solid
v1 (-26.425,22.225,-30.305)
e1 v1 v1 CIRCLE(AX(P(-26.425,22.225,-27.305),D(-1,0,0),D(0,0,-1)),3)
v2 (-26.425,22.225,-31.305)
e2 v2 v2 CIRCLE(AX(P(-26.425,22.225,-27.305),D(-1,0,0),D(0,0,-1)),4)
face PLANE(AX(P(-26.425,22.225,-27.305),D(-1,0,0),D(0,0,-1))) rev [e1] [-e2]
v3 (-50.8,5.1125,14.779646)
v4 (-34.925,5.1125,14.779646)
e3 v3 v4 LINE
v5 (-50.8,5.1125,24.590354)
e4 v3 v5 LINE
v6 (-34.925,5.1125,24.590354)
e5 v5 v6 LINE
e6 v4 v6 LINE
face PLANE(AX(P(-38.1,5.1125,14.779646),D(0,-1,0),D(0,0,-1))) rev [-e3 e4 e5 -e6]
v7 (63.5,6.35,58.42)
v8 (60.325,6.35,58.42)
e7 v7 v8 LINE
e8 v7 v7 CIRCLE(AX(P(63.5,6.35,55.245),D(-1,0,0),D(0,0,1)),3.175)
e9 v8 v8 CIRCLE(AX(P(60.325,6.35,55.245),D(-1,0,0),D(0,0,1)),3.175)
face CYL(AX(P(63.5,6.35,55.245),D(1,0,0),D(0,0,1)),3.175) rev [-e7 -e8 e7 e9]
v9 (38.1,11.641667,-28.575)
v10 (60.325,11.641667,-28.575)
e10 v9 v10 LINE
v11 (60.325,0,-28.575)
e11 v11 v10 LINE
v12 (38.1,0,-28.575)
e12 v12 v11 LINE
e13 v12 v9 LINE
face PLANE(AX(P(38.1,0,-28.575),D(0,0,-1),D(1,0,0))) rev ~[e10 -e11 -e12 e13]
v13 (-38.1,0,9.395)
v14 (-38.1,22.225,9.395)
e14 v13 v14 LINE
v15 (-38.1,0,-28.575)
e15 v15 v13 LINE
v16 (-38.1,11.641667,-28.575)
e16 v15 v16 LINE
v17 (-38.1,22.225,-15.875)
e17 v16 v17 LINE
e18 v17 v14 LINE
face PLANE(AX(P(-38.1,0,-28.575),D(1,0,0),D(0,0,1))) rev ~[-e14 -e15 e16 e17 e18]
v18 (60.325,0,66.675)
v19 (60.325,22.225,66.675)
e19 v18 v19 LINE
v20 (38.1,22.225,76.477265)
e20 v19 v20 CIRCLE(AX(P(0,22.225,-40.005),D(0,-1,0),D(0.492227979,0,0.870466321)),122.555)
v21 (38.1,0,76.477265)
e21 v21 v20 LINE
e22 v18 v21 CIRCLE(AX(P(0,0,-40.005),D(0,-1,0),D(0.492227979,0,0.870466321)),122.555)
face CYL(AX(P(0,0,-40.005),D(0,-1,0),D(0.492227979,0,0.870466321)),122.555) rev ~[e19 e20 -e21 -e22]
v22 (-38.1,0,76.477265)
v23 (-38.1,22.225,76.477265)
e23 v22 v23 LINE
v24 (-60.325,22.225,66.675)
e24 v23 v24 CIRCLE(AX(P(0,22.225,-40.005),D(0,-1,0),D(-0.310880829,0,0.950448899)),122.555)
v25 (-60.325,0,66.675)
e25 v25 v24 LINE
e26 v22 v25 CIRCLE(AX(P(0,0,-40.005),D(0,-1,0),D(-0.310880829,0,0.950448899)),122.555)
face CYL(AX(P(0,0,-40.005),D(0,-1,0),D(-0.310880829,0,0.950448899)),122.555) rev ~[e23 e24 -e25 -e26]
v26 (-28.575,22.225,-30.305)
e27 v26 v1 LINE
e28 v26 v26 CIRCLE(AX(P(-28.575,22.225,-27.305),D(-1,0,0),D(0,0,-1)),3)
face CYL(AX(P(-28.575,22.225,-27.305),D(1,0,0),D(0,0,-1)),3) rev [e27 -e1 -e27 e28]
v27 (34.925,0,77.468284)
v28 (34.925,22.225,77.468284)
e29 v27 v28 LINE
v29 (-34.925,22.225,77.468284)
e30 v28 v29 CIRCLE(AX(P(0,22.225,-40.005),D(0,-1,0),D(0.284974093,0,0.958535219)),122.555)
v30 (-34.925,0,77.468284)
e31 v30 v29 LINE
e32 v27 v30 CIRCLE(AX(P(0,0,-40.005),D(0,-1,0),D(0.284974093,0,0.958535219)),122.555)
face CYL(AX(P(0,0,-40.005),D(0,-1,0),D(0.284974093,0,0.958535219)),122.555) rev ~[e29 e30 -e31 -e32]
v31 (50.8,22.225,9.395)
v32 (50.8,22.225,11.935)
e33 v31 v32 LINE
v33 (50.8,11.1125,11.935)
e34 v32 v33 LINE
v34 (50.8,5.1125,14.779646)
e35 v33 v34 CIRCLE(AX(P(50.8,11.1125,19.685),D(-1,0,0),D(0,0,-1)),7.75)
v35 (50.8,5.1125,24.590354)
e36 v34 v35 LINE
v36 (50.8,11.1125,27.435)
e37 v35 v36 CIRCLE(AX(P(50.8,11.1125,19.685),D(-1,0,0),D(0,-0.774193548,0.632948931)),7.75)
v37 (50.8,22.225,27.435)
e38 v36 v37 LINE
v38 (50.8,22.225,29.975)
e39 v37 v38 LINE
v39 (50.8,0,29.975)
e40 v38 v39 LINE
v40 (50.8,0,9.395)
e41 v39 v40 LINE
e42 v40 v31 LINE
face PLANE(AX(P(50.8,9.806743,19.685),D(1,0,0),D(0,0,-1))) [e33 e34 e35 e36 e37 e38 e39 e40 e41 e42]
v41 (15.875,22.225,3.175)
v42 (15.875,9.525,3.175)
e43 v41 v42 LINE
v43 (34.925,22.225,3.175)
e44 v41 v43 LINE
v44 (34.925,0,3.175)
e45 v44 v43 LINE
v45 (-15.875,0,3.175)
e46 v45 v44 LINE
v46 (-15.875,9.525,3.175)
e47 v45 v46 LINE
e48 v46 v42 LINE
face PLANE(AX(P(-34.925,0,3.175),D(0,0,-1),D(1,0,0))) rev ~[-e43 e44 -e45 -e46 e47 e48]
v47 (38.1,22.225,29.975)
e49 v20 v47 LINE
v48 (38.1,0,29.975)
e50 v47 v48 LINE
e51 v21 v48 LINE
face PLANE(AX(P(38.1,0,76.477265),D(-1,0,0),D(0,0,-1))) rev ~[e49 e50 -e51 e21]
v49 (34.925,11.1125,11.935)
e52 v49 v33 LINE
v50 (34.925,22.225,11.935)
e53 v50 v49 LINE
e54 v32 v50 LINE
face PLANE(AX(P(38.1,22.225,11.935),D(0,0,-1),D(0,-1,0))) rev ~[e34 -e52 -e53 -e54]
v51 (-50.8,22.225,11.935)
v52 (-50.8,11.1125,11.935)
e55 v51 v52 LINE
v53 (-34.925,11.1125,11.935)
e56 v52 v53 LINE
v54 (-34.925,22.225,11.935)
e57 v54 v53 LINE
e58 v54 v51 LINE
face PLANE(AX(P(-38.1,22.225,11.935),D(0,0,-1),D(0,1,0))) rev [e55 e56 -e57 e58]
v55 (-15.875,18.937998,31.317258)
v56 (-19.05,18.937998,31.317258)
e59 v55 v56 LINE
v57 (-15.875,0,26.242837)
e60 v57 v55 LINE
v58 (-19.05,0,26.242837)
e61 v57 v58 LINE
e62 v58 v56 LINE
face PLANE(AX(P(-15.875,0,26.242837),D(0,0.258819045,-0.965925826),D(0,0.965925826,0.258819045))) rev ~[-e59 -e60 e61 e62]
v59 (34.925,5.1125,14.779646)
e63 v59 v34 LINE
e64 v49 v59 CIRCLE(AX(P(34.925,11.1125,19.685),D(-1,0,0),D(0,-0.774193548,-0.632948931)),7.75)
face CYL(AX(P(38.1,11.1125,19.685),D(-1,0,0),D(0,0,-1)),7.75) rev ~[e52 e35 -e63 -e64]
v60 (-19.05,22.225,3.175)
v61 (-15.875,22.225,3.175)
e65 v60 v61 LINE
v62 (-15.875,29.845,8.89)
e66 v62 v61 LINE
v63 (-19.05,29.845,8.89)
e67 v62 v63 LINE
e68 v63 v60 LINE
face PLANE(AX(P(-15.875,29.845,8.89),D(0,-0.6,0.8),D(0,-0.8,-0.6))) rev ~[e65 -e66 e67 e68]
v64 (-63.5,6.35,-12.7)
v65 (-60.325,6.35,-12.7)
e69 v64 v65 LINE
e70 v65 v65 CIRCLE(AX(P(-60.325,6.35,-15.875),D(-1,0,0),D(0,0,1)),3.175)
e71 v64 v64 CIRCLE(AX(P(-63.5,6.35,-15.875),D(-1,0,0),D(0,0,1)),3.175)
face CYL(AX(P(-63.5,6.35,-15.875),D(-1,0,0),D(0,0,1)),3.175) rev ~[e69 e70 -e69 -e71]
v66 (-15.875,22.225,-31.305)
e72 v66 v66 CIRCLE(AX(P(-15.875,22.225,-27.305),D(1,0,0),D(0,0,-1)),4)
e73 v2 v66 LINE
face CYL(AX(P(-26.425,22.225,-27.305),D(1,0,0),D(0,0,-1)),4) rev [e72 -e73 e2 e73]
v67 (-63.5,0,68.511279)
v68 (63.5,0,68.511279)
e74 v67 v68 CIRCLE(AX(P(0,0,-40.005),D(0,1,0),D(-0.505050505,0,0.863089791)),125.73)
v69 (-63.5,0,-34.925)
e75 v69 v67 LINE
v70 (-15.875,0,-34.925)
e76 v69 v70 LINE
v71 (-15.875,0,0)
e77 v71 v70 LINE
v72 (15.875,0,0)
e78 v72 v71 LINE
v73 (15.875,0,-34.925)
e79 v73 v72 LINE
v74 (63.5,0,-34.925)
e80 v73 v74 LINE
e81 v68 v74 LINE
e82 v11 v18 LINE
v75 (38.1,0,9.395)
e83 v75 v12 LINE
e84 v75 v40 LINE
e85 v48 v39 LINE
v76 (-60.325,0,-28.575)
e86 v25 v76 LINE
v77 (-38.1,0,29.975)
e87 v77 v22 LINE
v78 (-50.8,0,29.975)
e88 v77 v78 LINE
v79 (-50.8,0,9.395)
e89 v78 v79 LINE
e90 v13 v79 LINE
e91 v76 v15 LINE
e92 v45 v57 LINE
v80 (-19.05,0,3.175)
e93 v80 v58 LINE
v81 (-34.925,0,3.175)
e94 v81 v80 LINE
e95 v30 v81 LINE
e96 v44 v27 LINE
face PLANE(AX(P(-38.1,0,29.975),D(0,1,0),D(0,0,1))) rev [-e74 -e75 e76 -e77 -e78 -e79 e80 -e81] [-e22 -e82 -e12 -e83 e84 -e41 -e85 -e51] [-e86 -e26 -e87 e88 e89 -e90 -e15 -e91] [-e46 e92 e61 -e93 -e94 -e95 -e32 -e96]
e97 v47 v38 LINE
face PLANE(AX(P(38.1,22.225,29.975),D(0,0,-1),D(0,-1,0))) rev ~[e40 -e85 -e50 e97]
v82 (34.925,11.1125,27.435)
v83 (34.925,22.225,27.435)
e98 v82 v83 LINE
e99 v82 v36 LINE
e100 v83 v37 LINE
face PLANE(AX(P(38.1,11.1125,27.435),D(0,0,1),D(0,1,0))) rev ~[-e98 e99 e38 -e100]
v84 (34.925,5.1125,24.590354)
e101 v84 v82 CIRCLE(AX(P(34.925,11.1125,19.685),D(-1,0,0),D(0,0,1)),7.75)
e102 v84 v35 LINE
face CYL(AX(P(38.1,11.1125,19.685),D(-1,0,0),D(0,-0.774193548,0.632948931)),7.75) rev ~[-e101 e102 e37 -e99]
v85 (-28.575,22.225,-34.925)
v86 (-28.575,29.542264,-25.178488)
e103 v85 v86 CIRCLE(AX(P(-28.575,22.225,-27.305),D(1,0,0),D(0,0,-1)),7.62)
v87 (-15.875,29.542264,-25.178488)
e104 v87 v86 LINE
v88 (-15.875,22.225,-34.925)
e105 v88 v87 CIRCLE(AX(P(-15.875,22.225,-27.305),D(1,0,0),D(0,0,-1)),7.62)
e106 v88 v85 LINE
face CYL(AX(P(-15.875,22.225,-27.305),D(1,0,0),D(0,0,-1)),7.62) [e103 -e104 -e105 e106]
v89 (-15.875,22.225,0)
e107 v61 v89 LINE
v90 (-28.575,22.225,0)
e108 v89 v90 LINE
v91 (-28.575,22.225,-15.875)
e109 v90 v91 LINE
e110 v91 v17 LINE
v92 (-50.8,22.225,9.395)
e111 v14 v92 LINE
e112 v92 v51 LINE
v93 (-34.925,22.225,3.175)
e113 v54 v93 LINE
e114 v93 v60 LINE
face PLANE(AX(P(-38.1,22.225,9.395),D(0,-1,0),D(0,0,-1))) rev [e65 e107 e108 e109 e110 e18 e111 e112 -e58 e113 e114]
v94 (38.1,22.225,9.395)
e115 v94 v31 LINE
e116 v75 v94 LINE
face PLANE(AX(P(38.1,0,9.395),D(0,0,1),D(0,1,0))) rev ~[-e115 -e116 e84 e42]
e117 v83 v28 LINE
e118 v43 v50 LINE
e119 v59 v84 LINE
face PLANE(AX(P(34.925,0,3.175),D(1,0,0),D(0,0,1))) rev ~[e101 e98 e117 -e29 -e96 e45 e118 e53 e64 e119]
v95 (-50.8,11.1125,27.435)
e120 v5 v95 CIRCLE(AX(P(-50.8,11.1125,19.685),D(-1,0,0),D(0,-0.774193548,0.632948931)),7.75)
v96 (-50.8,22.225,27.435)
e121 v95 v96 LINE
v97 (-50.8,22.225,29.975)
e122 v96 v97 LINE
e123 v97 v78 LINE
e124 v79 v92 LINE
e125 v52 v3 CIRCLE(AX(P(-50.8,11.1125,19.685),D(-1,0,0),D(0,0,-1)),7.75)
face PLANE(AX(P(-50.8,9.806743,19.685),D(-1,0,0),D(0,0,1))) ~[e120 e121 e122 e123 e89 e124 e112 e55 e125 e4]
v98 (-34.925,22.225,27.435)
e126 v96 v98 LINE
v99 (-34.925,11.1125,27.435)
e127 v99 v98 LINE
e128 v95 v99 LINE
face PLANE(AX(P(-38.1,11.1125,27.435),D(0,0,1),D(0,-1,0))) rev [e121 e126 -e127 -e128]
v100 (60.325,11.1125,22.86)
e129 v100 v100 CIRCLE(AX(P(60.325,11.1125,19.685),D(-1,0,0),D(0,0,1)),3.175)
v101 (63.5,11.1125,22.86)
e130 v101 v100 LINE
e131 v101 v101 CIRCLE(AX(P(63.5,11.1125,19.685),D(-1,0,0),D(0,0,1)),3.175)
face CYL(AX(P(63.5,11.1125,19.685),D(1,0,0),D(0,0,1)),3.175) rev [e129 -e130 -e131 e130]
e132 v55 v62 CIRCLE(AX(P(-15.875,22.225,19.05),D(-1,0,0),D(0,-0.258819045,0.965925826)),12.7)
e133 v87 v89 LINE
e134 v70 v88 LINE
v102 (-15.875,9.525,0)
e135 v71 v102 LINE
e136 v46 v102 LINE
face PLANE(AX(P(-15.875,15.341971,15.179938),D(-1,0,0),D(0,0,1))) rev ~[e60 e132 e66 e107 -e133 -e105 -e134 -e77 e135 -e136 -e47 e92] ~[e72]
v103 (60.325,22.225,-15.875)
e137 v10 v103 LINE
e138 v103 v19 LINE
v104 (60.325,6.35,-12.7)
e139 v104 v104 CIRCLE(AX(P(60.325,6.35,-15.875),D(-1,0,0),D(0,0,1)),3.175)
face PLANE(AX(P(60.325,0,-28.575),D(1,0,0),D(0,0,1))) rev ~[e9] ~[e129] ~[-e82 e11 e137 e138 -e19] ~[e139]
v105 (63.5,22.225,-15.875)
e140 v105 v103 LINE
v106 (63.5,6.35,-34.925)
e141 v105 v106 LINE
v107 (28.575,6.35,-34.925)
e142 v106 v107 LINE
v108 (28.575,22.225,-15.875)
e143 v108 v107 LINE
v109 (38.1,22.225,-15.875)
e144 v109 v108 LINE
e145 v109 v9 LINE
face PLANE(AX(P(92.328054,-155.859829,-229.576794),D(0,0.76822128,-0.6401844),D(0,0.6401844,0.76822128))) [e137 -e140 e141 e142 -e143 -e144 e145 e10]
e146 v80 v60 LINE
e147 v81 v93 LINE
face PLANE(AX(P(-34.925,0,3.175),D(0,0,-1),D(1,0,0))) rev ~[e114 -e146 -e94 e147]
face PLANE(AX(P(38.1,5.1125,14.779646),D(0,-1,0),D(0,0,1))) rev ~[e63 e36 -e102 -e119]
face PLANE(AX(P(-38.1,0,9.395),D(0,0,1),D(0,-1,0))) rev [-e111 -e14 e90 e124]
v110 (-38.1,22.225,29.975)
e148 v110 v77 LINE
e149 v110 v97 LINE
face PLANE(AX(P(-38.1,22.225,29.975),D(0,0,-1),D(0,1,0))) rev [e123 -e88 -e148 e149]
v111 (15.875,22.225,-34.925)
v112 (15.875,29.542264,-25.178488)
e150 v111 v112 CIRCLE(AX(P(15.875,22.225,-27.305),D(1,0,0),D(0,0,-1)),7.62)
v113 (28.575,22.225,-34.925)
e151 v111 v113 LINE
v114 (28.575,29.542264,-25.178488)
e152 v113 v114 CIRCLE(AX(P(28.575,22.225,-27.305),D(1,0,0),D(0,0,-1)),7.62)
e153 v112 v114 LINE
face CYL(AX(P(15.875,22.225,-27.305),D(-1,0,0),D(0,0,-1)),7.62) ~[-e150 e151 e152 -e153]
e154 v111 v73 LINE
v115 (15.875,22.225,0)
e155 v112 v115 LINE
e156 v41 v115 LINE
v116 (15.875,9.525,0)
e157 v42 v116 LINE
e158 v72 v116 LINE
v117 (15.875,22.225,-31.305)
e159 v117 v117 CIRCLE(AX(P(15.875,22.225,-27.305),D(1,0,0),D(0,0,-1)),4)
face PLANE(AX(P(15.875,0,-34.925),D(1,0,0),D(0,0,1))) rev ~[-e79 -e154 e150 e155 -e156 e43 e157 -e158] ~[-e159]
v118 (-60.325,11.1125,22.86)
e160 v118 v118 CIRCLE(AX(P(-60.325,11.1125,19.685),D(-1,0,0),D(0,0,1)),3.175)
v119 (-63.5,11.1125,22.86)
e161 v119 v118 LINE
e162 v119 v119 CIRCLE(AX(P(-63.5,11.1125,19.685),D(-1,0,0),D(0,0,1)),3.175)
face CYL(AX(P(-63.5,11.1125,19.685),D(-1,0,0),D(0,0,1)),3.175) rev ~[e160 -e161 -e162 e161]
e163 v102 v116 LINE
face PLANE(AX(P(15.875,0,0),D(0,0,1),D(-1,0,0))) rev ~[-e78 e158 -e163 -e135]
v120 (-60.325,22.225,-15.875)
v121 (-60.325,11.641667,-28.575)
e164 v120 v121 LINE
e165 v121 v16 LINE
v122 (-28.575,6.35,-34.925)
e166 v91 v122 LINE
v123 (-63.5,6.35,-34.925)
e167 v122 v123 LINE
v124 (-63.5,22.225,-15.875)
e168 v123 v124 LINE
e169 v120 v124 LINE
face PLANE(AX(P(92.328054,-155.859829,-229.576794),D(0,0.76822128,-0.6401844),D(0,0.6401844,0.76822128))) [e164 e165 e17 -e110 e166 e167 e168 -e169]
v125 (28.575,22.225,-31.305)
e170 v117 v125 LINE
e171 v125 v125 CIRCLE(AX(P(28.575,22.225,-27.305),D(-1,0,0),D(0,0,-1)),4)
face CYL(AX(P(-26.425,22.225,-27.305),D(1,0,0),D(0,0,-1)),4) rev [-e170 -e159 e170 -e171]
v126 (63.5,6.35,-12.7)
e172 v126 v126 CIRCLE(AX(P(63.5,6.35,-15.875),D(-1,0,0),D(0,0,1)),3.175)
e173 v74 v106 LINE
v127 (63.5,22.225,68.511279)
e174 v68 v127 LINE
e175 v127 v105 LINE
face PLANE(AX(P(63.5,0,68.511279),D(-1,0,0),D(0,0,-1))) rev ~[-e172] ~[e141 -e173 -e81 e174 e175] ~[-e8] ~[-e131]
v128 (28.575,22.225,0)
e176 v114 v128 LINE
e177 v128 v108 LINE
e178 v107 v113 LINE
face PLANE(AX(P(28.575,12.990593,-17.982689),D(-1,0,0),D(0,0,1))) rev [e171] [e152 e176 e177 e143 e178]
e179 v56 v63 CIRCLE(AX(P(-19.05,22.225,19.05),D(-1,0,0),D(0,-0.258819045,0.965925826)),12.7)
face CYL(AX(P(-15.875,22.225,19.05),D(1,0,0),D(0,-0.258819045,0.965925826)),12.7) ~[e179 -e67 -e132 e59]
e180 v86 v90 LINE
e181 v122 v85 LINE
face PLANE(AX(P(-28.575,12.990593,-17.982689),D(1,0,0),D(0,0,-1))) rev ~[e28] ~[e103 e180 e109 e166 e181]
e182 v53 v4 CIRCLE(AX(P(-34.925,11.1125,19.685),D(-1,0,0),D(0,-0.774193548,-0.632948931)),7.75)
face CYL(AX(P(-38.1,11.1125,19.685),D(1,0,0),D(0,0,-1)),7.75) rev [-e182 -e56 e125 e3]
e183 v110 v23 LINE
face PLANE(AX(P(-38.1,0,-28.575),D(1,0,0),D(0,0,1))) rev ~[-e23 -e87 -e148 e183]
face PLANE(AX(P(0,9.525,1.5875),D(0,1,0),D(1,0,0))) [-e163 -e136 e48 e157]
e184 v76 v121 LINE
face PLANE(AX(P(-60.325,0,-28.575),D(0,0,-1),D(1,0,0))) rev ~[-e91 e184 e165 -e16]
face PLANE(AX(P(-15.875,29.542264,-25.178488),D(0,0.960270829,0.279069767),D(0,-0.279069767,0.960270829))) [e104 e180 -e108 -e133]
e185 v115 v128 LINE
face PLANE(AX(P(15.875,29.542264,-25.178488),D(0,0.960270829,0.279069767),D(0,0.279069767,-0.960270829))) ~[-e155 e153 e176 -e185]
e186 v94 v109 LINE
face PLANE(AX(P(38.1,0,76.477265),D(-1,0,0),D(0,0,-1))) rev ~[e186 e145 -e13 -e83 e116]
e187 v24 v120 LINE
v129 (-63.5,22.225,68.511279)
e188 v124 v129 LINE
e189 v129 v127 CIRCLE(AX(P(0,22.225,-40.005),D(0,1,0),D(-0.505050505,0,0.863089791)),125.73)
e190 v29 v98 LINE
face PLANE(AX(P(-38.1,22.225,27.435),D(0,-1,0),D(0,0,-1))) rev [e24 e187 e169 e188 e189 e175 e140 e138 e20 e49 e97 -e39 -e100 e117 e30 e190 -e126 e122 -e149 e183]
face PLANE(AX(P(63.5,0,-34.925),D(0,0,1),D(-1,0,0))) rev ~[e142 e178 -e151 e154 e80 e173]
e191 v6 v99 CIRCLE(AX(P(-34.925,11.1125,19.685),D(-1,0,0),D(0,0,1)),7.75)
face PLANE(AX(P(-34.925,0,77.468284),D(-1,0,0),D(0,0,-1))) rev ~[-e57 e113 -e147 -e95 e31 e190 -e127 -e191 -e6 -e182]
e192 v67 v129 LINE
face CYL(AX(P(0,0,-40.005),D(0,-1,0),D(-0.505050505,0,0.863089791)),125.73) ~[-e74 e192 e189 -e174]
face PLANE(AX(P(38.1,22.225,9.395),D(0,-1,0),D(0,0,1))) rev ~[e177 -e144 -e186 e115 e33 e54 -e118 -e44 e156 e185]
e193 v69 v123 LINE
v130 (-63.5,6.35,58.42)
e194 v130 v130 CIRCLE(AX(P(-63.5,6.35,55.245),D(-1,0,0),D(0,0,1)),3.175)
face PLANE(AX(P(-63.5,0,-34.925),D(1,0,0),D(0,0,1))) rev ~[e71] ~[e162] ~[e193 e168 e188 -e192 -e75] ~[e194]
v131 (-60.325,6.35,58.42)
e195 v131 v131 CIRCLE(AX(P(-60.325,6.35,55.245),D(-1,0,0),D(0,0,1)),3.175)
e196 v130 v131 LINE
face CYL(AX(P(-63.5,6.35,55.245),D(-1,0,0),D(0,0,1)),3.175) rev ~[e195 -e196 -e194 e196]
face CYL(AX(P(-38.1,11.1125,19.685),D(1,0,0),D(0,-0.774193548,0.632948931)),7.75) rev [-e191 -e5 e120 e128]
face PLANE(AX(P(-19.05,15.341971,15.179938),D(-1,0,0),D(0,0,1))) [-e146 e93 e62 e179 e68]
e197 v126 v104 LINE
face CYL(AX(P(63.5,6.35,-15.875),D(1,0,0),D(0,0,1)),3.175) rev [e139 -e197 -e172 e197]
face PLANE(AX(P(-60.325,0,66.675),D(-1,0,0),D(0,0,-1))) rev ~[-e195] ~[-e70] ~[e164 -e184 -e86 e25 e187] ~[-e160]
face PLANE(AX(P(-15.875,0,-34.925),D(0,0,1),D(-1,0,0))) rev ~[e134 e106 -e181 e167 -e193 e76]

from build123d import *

# Parameters (mm, degrees)
BOSS_EXTRUDE1_DEPTH     = 22.225
CUT_EXTRUDE3_DEPTH      = 155.828053821
CUT_EXTRUDE3_DEPTH_BACK = 155.828053821
BOSS_EXTRUDE3_DEPTH     = 12.7
SKETCH10_W              = 31.75
SKETCH10_H              = 3.175
CUT_EXTRUDE5_DEPTH      = 12.7
CUT_EXTRUDE4_REACH      = 158.104
SKETCH9_R               = 3.175
BOSS_EXTRUDE6_DEPTH     = 3.175
CUT_EXTRUDE8_REACH      = 139.445
BOSS_EXTRUDE7_DEPTH     = 12.7


with BuildPart() as part:
    # Sketch1 → Boss-Extrude1 (new body)
    with BuildSketch(Plane(origin=(0, 0, 0), x_dir=(1, 0, 0), z_dir=(0, 1, 0))):
        with BuildLine():
            Line((-15.875, 0), (-15.875, 34.925))
            Line((-15.875, 34.925), (-63.5, 34.925))
            Line((-63.5, 34.925), (-63.5, -68.511279424))
            ThreePointArc((-63.5, -68.511279424), (0, -85.725), (63.5, -68.511279424))
            Line((63.5, -68.511279424), (63.5, 34.925))
            Line((63.5, 34.925), (15.875, 34.925))
            Line((15.875, 34.925), (15.875, 0))
            Line((15.875, 0), (-15.875, 0))
        make_face()
        with BuildLine():
            ThreePointArc((34.925, -77.468283771), (0, -82.55), (-34.925, -77.468283771))
            Line((-34.925, -77.468283771), (-34.925, -3.175))
            Line((-34.925, -3.175), (34.925, -3.175))
            Line((34.925, -3.175), (34.925, -77.468283771))
        make_face(mode=Mode.SUBTRACT)
        with BuildLine():
            Line((-38.1, 0), (-38.1, -76.477264852))
            ThreePointArc((-38.1, -76.477264852), (-49.455952678, -72.128120752), (-60.325, -66.675))
            Line((-60.325, -66.675), (-60.325, 28.575))
            Line((-60.325, 28.575), (-38.1, 28.575))
            Line((-38.1, 28.575), (-38.1, 0))
        make_face(mode=Mode.SUBTRACT)
        with BuildLine():
            ThreePointArc((60.325, -66.675), (49.455952678, -72.128120752), (38.1, -76.477264852))
            Line((38.1, -76.477264852), (38.1, 0))
            Line((38.1, 0), (38.1, 28.575))
            Line((38.1, 28.575), (60.325, 28.575))
            Line((60.325, 28.575), (60.325, -66.675))
        make_face(mode=Mode.SUBTRACT)
    extrude(amount=BOSS_EXTRUDE1_DEPTH)

    # Sketch3 → Cut-Extrude3 (cut, two sides: drawn at the far end of the back side and taken through both)
    with BuildSketch(Plane.ZY.offset(63.5).offset(-CUT_EXTRUDE3_DEPTH_BACK)):
        Polygon((-229.576794349, -155.859828624), (-34.925, 6.35), (-15.875, 22.225), (178.776794349, 184.434828624), (-145.6428629, 573.738417323), (-553.996451598, 233.443760074), align=None)
    extrude(amount=CUT_EXTRUDE3_DEPTH + CUT_EXTRUDE3_DEPTH_BACK, mode=Mode.SUBTRACT)

    # Sketch7 → Boss-Extrude3 (add)
    with BuildSketch(Plane(origin=(-15.875, 0, 0), x_dir=(0, 0, -1), z_dir=(1, 0, 0))):
        with BuildLine():
            Line((34.925, 0), (34.925, 22.225))
            ThreePointArc((34.925, 22.225), (31.879952535, 28.318784481), (25.178488372, 29.542263716))
            Line((25.178488372, 29.542263716), (0, 22.225))
            Line((0, 22.225), (0, 0))
            Line((0, 0), (34.925, 0))
        make_face()
    boss_extrude3 = extrude(amount=-BOSS_EXTRUDE3_DEPTH)

    # Mirror1: Boss-Extrude3 across plane
    add(boss_extrude3.mirror(Plane(origin=(0, 0, 0), x_dir=(0, 0, 1), z_dir=(1, 0, 0))))

    # Sketch10 → Cut-Extrude5 (cut)
    with BuildSketch(Plane(origin=(0, 22.225, 0), x_dir=(1, 0, 0), z_dir=(0, 1, 0))):
        with Locations((0, -1.5875)):
            Rectangle(SKETCH10_W, SKETCH10_H)
    extrude(amount=-CUT_EXTRUDE5_DEPTH, mode=Mode.SUBTRACT)

    # Sketch8 → Cut-Revolve1 (revolve, cut)
    with BuildSketch(Plane(origin=(0, 26.545081967, -22.120901639), x_dir=(1, 0, 0), z_dir=(0, 0.7682212795973757, -0.6401843996644799))):
        Polygon((28.575, 6.748183757), (-28.575, 6.748183757), (-28.575, 9.748183757), (-26.425, 9.748183757), (-26.425, 10.748183757), (28.575, 10.748183757), align=None)
    revolve(axis=Axis((28.575, 22.225, -27.305), (-1, 0, 0)), mode=Mode.SUBTRACT)

    # Sketch9 → Cut-Extrude4 (cut, up to next)
    with BuildSketch(Plane.ZY.offset(63.5), mode=Mode.PRIVATE) as cut_extrude4_sk1:
        with Locations((-15.875, 6.35)):
            Circle(SKETCH9_R)
    cut_extrude4_tool1 = extrude(cut_extrude4_sk1.sketch, amount=-CUT_EXTRUDE4_REACH, mode=Mode.PRIVATE) & part.part
    # Sketch9 → Cut-Extrude4 (cut, up to next)
    with BuildSketch(Plane.ZY.offset(63.5), mode=Mode.PRIVATE) as cut_extrude4_sk2:
        with Locations((55.245, 6.35)):
            Circle(SKETCH9_R)
    cut_extrude4_tool2 = extrude(cut_extrude4_sk2.sketch, amount=-CUT_EXTRUDE4_REACH, mode=Mode.PRIVATE) & part.part
    # Sketch9 → Cut-Extrude4 (cut, up to next)
    with BuildSketch(Plane.ZY.offset(63.5), mode=Mode.PRIVATE) as cut_extrude4_sk3:
        with Locations((19.685, 11.1125)):
            Circle(SKETCH9_R)
    cut_extrude4_tool3 = extrude(cut_extrude4_sk3.sketch, amount=-CUT_EXTRUDE4_REACH, mode=Mode.PRIVATE) & part.part
    cut_extrude4_1 = cut_extrude4_tool1.solids().sort_by_distance((-63.5, 6.35, -15.875))[0]
    add(cut_extrude4_1, mode=Mode.SUBTRACT)
    cut_extrude4_2 = cut_extrude4_tool2.solids().sort_by_distance((-63.5, 6.35, 55.245))[0]
    add(cut_extrude4_2, mode=Mode.SUBTRACT)
    cut_extrude4_3 = cut_extrude4_tool3.solids().sort_by_distance((-63.5, 11.1125, 19.685))[0]
    add(cut_extrude4_3, mode=Mode.SUBTRACT)
    cut_extrude4 = cut_extrude4_1 + cut_extrude4_2 + cut_extrude4_3  # Cut-Extrude4 as one shape, for the pattern or mirror that repeats it

    # Mirror10: Cut-Extrude4 across plane
    add(cut_extrude4.mirror(Plane(origin=(0, 0, 0), x_dir=(0, 0, 1), z_dir=(1, 0, 0))), mode=Mode.SUBTRACT)

    # Sketch16 → Boss-Extrude6 (add)
    with BuildSketch(Plane(origin=(-15.875, 0, 0), x_dir=(0, 0, -1), z_dir=(1, 0, 0))):
        with BuildLine():
            Line((-8.89, 29.845), (-3.175, 22.225))
            Line((-3.175, 22.225), (0, 22.225))
            Line((0, 22.225), (0, 0))
            Line((0, 0), (-3.175, 0))
            Line((-3.175, 0), (-26.242836689, 0))
            Line((-26.242836689, 0), (-31.317257994, 18.937998127))
            ThreePointArc((-31.317257994, 18.937998127), (-24.604350234, 33.645997919), (-8.89, 29.845))
        make_face()
    extrude(amount=-BOSS_EXTRUDE6_DEPTH)

    # Sketch17 → Cut-Extrude8 (cut, up to next)
    with BuildSketch(Plane.ZY.offset(38.1), mode=Mode.PRIVATE) as cut_extrude8_sk1:
        with BuildLine():
            Line((24.590354218, 5.1125), (14.779645782, 5.1125))
            ThreePointArc((14.779645782, 5.1125), (12.682179312, 7.792409277), (11.935, 11.1125))
            Line((11.935, 11.1125), (11.935, 22.225))
            Line((11.935, 22.225), (27.435, 22.225))
            Line((27.435, 22.225), (27.435, 11.1125))
            ThreePointArc((27.435, 11.1125), (26.687820688, 7.792409277), (24.590354218, 5.1125))
        make_face()
    cut_extrude8_tool1 = extrude(cut_extrude8_sk1.sketch, amount=-CUT_EXTRUDE8_REACH, mode=Mode.PRIVATE) & part.part
    cut_extrude8 = cut_extrude8_tool1.solids().sort_by_distance((-38.1, 13.958781, 19.685))[0]
    add(cut_extrude8, mode=Mode.SUBTRACT)

    # Mirror11: Cut-Extrude8 across plane
    add(cut_extrude8.mirror(Plane(origin=(0, 0, 0), x_dir=(0, 0, 1), z_dir=(1, 0, 0))), mode=Mode.SUBTRACT)

    # Sketch18 → Boss-Extrude7 (add)
    with BuildSketch(Plane(origin=(38.1, 0, 0), x_dir=(0, 0, -1), z_dir=(1, 0, 0))):
        with BuildLine():
            Line((-11.935, 22.225), (-11.935, 11.1125))
            ThreePointArc((-11.935, 11.1125), (-12.682179312, 7.792409277), (-14.779645782, 5.1125))
            Line((-14.779645782, 5.1125), (-24.590354218, 5.1125))
            ThreePointArc((-24.590354218, 5.1125), (-26.687820688, 7.792409277), (-27.435, 11.1125))
            Line((-27.435, 11.1125), (-27.435, 22.225))
            Line((-27.435, 22.225), (-29.975, 22.225))
            Line((-29.975, 22.225), (-29.975, 0))
            Line((-29.975, 0), (-9.395, 0))
            Line((-9.395, 0), (-9.395, 22.225))
            Line((-9.395, 22.225), (-11.935, 22.225))
        make_face()
    boss_extrude7 = extrude(amount=BOSS_EXTRUDE7_DEPTH)

    # Mirror12: Boss-Extrude7 across plane
    add(boss_extrude7.mirror(Plane(origin=(0, 0, 0), x_dir=(0, 0, 1), z_dir=(1, 0, 0))))


solid = part.part
